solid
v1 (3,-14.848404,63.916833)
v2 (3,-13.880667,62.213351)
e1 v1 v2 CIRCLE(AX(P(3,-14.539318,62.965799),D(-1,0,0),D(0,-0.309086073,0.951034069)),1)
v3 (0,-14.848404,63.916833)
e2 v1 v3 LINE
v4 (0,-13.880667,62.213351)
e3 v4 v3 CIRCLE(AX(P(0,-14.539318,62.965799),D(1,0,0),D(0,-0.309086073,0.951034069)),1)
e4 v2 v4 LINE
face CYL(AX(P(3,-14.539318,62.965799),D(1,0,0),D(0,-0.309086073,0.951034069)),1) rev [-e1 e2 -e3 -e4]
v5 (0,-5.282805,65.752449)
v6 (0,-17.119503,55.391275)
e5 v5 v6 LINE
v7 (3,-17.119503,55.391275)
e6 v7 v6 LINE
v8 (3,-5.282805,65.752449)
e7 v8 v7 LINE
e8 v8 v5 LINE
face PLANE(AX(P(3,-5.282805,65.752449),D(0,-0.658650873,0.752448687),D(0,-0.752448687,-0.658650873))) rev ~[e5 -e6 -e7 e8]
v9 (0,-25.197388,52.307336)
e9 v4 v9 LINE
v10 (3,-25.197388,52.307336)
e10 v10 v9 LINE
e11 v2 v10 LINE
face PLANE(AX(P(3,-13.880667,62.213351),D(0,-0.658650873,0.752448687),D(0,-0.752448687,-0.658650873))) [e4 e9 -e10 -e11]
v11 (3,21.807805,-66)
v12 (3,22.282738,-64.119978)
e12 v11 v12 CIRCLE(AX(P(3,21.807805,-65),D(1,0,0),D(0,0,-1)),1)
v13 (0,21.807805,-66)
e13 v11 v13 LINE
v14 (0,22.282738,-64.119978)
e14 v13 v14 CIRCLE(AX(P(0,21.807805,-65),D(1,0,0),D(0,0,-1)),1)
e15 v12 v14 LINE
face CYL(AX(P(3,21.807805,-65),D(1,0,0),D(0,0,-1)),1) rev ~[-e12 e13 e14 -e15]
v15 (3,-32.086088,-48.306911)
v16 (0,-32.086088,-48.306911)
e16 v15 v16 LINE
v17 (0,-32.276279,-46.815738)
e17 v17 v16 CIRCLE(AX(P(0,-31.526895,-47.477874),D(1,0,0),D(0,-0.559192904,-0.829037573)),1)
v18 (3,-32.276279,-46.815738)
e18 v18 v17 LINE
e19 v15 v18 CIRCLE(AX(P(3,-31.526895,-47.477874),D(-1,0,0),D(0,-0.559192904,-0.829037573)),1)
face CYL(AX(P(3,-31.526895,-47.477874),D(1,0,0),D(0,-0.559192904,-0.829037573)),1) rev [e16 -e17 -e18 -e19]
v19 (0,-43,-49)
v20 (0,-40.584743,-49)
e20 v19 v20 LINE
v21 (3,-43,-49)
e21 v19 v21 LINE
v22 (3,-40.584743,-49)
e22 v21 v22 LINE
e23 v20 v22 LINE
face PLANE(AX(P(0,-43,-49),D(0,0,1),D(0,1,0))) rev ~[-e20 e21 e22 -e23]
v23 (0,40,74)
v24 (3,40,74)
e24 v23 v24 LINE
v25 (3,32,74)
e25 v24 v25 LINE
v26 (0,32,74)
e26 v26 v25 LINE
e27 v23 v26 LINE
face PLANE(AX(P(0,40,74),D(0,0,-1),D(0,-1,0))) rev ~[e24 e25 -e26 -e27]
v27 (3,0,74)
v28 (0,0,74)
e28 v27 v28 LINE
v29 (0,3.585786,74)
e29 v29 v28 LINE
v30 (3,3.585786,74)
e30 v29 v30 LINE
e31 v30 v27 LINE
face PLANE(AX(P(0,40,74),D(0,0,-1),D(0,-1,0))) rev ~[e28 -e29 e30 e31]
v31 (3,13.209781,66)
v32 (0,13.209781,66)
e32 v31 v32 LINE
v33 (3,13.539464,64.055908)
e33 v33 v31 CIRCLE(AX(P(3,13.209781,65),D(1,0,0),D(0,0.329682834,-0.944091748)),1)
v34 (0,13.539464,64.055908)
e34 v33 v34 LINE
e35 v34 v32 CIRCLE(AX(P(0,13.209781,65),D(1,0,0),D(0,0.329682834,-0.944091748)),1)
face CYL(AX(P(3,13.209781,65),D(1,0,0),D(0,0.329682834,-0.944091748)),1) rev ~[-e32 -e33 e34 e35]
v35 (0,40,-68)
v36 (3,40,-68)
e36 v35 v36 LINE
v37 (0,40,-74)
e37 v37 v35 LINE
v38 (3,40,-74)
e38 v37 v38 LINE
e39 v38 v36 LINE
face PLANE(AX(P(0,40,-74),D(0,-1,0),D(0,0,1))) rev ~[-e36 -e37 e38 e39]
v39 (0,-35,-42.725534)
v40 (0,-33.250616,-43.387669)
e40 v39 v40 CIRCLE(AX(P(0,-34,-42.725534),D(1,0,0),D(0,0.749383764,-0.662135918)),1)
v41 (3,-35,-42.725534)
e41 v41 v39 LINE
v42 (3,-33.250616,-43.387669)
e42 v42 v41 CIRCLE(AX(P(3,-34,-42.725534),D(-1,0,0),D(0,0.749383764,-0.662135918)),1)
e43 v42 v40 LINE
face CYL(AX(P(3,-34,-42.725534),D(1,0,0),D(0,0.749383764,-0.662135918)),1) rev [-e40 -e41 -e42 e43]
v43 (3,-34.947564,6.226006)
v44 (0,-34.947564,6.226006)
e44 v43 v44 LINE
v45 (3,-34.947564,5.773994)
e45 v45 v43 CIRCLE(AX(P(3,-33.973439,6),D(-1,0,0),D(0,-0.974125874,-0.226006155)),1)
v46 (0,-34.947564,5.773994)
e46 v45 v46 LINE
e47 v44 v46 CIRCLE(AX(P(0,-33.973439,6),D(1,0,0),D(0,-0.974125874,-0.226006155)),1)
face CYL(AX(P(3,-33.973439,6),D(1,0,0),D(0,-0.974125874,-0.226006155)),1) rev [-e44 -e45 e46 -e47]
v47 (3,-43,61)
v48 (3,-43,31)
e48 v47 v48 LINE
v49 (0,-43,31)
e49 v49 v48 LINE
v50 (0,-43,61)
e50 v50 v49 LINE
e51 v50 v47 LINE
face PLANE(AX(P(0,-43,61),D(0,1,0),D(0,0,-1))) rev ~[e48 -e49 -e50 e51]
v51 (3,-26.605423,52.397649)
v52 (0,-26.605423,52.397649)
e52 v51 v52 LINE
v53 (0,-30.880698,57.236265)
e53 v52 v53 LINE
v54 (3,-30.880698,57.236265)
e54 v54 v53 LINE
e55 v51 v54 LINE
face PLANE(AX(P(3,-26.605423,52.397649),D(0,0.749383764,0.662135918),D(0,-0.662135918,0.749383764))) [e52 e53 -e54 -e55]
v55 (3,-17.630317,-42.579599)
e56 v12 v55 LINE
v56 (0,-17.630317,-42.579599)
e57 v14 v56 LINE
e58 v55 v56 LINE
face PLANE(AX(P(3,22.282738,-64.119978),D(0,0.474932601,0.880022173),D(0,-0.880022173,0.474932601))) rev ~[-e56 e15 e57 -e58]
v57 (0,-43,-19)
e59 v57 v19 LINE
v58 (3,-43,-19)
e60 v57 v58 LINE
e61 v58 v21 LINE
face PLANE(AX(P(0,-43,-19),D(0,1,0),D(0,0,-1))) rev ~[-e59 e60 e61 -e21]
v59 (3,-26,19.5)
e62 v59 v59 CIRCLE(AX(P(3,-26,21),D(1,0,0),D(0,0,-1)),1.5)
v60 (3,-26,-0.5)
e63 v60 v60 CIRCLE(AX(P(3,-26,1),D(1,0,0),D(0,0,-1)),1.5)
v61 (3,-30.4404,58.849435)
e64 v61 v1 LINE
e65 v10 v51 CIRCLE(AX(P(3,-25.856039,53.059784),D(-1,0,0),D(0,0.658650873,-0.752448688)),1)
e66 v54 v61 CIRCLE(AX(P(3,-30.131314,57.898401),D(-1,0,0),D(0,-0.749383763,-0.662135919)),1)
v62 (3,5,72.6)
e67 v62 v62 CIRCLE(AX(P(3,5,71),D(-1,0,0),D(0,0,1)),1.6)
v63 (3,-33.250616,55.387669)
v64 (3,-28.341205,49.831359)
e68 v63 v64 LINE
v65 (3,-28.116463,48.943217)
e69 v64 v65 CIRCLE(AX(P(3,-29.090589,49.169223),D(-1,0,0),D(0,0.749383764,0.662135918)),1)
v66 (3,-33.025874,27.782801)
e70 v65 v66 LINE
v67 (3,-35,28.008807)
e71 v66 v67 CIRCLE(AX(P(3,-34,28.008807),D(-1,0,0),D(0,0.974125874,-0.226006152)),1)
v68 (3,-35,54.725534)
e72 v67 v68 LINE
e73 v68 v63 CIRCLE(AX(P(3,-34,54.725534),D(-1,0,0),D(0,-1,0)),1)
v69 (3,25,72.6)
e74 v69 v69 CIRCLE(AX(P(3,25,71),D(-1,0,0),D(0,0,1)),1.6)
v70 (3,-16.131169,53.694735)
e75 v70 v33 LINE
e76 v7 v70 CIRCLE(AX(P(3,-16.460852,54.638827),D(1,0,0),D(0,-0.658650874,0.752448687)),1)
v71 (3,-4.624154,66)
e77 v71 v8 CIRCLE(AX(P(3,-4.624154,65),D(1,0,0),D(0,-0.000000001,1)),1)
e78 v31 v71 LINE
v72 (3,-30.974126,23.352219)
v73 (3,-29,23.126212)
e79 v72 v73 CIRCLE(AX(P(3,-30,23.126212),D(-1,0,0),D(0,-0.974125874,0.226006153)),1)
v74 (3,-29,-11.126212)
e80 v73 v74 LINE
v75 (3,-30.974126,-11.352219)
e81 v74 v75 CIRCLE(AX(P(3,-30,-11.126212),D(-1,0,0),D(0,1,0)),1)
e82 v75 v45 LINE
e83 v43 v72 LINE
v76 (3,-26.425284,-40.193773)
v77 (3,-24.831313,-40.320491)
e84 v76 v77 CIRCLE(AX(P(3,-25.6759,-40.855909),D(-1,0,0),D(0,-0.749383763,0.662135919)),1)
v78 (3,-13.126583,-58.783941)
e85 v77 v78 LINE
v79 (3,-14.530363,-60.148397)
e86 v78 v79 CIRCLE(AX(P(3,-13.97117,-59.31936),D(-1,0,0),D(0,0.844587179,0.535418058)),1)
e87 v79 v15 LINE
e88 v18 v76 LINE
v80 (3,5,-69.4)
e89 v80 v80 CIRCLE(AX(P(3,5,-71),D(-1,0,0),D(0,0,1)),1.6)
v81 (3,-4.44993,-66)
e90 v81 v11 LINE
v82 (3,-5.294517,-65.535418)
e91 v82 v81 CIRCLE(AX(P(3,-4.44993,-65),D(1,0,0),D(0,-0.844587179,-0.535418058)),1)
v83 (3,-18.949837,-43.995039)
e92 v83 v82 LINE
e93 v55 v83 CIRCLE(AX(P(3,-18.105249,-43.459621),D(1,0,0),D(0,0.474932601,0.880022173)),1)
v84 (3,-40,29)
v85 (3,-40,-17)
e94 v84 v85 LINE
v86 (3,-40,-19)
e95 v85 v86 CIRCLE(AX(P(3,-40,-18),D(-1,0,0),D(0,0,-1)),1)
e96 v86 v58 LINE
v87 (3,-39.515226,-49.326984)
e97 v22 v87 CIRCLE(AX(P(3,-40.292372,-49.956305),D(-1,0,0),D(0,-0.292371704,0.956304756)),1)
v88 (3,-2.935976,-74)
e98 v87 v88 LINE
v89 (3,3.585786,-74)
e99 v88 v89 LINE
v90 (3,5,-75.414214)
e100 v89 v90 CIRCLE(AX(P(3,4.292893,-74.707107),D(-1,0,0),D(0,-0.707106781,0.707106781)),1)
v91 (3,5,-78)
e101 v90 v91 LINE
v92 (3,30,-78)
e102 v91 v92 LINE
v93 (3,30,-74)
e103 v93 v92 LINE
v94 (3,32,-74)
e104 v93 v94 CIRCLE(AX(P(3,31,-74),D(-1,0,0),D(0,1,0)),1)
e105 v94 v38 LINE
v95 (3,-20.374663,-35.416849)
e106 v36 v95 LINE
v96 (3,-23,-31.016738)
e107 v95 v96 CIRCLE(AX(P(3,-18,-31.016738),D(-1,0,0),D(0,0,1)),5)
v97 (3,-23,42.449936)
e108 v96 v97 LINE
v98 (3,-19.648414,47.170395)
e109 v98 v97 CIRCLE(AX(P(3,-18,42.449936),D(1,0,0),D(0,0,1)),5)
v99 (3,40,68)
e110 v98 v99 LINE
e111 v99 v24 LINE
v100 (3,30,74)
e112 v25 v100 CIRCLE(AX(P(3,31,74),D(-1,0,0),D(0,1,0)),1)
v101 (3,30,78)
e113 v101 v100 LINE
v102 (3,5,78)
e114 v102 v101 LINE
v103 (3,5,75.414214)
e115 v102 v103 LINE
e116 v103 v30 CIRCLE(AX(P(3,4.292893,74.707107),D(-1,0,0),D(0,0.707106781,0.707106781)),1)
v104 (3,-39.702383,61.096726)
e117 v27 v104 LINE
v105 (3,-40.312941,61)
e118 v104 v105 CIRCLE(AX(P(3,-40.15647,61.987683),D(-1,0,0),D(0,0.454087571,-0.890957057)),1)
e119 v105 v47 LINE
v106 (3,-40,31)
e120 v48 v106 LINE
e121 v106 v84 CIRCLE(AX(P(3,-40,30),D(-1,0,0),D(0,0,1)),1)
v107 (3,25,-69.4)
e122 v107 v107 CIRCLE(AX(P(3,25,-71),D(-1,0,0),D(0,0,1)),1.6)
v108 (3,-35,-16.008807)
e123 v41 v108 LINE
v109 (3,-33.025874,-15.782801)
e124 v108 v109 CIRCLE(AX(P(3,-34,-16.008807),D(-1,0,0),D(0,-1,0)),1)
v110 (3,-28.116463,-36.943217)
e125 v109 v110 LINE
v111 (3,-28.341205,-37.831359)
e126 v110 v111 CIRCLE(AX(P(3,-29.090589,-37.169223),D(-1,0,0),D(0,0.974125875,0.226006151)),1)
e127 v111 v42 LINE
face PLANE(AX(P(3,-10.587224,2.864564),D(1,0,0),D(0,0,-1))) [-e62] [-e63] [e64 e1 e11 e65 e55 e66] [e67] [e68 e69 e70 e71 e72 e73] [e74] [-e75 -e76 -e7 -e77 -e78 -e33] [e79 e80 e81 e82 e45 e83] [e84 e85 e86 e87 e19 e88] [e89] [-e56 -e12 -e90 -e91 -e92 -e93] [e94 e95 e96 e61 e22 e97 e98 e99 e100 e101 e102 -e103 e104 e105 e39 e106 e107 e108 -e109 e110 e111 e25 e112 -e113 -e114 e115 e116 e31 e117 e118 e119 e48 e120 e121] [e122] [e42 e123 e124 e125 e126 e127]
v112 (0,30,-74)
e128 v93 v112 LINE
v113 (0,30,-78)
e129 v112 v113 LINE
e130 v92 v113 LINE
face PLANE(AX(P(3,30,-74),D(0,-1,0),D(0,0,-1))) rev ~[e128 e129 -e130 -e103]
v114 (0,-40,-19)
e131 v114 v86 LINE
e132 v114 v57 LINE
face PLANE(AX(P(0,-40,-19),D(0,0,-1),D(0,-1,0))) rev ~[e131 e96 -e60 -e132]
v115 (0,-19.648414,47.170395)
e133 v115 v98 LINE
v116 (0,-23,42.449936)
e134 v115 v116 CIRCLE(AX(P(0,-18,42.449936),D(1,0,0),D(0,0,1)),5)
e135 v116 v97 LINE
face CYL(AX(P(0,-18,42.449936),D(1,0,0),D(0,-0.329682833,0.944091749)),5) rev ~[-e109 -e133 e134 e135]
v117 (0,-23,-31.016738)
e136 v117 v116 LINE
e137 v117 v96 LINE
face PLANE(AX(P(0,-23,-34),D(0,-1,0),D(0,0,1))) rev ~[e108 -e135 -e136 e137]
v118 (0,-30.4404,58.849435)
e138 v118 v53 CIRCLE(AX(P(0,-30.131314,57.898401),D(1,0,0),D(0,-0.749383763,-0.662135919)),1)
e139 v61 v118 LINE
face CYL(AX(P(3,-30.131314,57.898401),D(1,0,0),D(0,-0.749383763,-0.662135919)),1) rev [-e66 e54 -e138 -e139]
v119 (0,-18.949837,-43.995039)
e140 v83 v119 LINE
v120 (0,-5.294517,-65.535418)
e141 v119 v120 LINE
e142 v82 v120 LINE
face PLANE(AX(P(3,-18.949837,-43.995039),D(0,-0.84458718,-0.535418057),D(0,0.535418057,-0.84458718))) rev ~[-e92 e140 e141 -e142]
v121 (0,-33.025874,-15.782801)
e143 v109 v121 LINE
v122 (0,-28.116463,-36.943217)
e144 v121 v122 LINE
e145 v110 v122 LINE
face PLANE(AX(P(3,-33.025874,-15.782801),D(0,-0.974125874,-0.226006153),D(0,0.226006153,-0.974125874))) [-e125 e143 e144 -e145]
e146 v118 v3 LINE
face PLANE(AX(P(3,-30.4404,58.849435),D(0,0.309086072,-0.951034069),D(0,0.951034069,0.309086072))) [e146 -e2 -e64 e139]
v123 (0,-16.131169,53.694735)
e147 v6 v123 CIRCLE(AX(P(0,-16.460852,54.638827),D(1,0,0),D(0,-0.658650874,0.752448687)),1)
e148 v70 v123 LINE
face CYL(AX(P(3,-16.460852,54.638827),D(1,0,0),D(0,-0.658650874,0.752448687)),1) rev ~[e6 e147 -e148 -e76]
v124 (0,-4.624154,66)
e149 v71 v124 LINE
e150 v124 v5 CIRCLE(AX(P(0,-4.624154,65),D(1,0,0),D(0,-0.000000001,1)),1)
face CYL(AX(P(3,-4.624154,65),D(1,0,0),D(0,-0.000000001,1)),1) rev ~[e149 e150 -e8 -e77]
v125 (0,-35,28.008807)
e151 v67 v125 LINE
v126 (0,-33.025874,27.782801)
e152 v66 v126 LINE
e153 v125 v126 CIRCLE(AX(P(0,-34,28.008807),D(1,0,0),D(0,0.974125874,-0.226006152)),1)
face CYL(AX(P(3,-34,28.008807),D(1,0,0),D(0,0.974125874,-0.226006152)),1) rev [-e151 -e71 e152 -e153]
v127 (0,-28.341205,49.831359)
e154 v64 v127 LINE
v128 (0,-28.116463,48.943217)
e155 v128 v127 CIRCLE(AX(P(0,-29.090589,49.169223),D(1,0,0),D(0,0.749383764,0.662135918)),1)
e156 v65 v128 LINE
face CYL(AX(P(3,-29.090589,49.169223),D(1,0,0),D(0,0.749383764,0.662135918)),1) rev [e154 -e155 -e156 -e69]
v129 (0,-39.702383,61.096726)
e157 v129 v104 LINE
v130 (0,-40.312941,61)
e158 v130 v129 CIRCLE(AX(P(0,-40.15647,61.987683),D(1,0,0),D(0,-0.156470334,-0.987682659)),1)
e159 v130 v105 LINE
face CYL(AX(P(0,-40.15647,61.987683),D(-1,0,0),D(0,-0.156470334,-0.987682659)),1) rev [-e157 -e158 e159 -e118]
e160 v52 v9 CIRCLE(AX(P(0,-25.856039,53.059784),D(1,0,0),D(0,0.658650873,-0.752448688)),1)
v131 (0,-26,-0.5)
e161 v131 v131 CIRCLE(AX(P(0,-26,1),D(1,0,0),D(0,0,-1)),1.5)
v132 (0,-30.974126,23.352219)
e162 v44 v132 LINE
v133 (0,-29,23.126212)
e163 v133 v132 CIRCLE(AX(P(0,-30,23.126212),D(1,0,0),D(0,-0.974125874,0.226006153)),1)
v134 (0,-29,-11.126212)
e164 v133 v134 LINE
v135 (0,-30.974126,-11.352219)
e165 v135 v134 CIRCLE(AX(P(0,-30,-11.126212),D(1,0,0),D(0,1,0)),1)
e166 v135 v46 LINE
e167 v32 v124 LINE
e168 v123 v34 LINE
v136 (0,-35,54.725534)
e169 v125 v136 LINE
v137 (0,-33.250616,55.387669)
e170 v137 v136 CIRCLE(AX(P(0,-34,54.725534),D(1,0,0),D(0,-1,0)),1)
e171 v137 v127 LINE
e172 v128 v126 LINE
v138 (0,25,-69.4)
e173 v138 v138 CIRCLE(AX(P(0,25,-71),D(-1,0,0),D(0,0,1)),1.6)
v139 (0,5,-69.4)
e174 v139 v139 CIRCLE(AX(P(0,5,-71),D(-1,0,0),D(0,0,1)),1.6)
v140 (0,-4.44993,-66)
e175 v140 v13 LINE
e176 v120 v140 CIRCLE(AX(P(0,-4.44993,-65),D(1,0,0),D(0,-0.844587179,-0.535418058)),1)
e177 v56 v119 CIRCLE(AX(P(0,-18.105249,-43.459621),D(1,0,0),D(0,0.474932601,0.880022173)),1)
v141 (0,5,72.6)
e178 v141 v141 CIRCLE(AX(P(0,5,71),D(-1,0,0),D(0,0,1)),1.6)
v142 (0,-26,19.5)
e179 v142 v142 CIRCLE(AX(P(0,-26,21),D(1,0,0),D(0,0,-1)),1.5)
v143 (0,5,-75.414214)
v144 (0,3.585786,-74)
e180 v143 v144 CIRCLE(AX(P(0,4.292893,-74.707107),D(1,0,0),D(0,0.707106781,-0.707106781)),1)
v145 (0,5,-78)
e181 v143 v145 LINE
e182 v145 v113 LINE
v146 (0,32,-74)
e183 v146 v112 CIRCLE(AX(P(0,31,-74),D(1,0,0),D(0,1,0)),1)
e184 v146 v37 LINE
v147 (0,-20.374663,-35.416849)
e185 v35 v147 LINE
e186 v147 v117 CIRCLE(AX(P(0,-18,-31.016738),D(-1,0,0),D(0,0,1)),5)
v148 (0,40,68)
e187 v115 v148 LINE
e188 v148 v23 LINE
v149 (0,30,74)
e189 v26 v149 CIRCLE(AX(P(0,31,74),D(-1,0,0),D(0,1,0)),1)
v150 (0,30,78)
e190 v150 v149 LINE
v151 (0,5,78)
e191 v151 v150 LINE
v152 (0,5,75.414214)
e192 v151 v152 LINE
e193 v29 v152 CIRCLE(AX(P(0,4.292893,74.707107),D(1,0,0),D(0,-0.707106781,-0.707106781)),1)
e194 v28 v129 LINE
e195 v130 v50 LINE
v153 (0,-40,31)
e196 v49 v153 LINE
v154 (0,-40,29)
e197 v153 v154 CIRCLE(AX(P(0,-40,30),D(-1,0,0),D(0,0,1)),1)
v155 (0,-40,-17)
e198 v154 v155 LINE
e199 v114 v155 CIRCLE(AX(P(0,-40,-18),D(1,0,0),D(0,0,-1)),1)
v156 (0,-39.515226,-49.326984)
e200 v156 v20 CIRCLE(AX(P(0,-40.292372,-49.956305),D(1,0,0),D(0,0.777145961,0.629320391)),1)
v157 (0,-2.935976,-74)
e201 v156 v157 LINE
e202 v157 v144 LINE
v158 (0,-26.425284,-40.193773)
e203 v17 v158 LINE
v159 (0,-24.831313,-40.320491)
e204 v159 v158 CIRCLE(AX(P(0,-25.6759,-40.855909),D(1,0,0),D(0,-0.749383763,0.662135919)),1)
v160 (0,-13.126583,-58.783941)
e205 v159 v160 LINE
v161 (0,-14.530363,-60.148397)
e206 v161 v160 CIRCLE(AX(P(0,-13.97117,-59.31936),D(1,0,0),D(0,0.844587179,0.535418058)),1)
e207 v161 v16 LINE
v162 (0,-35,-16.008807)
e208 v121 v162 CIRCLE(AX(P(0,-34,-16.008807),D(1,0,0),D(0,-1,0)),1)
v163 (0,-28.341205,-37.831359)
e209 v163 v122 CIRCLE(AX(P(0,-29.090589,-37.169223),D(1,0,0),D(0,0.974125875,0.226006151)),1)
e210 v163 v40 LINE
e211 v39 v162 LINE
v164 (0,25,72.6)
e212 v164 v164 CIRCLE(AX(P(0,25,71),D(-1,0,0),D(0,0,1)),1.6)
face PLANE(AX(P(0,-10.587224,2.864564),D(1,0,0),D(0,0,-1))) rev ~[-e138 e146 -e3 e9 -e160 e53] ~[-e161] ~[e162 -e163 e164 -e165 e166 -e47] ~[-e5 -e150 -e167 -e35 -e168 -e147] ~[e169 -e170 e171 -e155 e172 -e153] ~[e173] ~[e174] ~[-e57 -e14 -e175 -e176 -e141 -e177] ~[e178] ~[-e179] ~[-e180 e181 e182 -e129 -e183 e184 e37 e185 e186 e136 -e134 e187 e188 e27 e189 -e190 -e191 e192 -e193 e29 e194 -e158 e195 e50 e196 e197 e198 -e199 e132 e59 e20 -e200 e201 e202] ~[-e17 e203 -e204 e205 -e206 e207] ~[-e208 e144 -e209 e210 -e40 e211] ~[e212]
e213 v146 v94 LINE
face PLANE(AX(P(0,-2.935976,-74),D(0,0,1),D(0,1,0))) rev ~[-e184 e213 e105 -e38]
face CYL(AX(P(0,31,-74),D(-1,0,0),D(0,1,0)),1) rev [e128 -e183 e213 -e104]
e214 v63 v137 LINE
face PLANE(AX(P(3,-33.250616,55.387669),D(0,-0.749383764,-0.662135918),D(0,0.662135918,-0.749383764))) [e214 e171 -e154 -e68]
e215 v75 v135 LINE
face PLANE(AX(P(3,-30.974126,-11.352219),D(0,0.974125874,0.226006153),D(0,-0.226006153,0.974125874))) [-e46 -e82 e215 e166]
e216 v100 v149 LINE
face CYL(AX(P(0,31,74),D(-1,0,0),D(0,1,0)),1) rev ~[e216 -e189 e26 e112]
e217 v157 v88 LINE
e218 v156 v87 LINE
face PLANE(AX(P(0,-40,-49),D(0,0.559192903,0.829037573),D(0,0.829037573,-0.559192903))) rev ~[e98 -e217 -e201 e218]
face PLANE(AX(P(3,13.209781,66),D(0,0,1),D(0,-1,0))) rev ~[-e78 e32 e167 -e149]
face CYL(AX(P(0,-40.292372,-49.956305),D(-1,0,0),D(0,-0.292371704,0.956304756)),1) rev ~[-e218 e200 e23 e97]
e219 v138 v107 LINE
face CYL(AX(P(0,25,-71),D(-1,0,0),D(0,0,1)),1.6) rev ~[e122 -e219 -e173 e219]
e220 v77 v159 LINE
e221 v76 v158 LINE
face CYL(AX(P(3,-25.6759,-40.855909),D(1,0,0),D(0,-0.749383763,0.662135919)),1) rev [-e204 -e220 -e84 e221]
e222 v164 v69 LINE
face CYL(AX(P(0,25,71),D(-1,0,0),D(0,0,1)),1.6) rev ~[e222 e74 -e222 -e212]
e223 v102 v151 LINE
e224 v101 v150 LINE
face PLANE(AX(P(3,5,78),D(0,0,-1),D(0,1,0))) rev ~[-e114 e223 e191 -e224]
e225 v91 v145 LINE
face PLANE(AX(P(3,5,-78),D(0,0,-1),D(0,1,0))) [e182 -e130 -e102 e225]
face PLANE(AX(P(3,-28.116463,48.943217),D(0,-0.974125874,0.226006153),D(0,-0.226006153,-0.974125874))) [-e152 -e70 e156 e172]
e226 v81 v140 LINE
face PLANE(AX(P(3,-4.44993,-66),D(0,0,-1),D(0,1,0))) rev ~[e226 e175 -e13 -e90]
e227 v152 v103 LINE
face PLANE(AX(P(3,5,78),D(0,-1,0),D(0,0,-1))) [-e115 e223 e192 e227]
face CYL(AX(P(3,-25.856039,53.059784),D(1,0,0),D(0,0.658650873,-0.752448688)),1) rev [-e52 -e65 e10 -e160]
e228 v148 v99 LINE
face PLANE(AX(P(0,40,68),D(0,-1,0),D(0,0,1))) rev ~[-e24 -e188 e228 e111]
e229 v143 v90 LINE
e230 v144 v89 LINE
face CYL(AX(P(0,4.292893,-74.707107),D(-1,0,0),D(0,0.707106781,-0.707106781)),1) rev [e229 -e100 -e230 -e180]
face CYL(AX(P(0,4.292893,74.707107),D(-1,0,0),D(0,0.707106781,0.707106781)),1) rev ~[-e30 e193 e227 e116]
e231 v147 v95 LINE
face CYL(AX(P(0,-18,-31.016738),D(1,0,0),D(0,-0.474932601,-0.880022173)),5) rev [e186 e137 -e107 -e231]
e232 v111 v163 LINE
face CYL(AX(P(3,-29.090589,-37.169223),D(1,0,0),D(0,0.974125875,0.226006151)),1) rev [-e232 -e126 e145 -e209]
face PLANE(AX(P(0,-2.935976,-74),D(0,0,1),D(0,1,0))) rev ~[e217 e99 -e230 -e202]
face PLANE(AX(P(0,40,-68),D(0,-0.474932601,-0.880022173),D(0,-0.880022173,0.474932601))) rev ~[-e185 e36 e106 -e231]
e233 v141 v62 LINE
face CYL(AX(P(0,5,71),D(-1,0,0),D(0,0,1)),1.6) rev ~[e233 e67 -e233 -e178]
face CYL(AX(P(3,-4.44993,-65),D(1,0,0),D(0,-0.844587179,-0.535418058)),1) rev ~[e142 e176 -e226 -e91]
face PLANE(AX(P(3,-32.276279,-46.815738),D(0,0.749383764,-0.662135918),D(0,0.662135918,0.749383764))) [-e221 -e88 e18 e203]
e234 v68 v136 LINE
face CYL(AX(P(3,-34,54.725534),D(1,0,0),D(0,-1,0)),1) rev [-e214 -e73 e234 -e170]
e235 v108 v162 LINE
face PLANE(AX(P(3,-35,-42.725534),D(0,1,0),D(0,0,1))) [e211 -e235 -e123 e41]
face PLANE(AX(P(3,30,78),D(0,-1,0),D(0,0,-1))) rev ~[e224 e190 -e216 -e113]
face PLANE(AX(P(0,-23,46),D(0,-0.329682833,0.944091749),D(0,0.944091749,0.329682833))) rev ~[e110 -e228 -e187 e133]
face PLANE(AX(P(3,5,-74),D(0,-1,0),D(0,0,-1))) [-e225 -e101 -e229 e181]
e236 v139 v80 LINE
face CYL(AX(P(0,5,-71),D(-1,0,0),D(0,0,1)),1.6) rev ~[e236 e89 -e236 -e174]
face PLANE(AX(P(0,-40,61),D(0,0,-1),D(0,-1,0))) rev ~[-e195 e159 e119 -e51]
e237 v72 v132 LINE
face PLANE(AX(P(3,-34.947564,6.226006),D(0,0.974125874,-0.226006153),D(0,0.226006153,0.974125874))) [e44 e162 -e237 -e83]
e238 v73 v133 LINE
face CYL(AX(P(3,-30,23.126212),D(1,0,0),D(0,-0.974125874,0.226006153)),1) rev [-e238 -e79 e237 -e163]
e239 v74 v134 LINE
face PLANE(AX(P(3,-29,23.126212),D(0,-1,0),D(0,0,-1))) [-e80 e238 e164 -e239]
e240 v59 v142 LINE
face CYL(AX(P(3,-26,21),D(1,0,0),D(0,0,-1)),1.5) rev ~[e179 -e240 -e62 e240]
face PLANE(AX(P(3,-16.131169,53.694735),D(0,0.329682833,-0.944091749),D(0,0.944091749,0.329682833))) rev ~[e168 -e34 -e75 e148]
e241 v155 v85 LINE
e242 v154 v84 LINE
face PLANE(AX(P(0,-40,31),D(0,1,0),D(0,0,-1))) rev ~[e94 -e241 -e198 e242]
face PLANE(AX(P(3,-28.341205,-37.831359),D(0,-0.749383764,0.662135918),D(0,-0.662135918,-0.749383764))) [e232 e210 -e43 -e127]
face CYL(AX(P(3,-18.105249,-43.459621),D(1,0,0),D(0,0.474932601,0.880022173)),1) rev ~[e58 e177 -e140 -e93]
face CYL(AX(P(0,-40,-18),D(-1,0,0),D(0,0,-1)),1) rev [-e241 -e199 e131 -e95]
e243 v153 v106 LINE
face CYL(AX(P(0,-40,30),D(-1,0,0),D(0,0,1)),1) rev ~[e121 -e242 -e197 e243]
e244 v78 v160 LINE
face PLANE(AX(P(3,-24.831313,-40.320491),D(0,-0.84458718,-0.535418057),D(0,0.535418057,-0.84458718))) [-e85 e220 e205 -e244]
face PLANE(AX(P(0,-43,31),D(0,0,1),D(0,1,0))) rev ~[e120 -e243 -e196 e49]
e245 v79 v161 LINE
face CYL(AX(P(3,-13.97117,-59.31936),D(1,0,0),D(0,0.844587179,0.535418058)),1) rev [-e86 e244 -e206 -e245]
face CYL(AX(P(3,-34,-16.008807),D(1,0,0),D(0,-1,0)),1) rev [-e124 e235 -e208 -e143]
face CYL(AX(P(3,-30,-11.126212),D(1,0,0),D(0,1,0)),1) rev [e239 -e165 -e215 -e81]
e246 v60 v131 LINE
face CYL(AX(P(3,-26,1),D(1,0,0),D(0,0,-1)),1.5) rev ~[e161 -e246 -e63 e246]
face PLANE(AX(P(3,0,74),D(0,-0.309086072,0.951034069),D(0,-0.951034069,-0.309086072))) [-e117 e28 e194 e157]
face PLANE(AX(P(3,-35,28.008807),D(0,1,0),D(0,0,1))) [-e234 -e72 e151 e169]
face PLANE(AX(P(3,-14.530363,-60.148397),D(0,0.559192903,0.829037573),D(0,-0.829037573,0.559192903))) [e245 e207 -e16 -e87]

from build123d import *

# Parameters (mm, degrees)
EXTRUDE_1_DEPTH     = 3
SKETCH_2_W          = 4
SKETCH_2_H          = 25
EXTRUDE_2_DEPTH     = 3
SKETCH_6_R          = 1.6
CUT_EXTRUDE_4_DEPTH = 4
CUT_EXTRUDE_5_DEPTH = 10
CUT_EXTRUDE_7_DEPTH = 10
FILLET_1_R          = 5
SKETCH_11_R         = 1.5
CUT_EXTRUDE_8_DEPTH = 90.117899437


with BuildPart() as part:
    # 草图1 → 凸台-拉伸1 (new body)
    with BuildSketch(Plane(origin=(0, 0, 0), x_dir=(0, 0, -1), z_dir=(1, 0, 0))):
        Polygon((-46, -23), (-68, 40), (-74, 40), (-74, -20.726707409), (-61, -40), (-61, -43), (-31, -43), (-31, -40), (19, -40), (19, -43), (49, -43), (49, -40), (74, -2.935975787), (74, 40), (68, 40), (34, -23), align=None)
    extrude(amount=EXTRUDE_1_DEPTH)

    # 草图2 → 凸台-拉伸2 (add)
    with BuildSketch(Plane(origin=(3, 0, 0), x_dir=(0, 0, -1), z_dir=(1, 0, 0))):
        with Locations((-76, 17.5)):
            Rectangle(SKETCH_2_W, SKETCH_2_H)
        with Locations((76, 17.5)):
            Rectangle(SKETCH_2_W, SKETCH_2_H)
    extrude(amount=-EXTRUDE_2_DEPTH)

    # 草图6 → 切除-拉伸4 (cut)
    with BuildSketch(Plane.ZY):
        with Locations((-71, 5)):
            Circle(SKETCH_6_R)
        with Locations((71, 25)):
            Circle(SKETCH_6_R)
        with Locations((71, 5)):
            Circle(SKETCH_6_R)
        with Locations((-71, 25)):
            Circle(SKETCH_6_R)
    extrude(amount=-CUT_EXTRUDE_4_DEPTH, mode=Mode.SUBTRACT)

    # 草图7 → 切除-拉伸5 (cut)
    with BuildSketch(Plane(origin=(3, 0, 0), x_dir=(0, 0, -1), z_dir=(1, 0, 0))):
        with BuildLine():
            Line((-66, 13.209781141), (-66, -4.624153975))
            ThreePointArc((-66, -4.624153975), (-65.936068557, -4.975971621), (-65.752448687, -5.282804848))
            Line((-65.752448687, -5.282804848), (-55.391275304, -17.119502604))
            ThreePointArc((-55.391275304, -17.119502604), (-54.135455337, -17.324921956), (-53.694734868, -16.131168898))
            Line((-53.694734868, -16.131168898), (-64.055908251, 13.539463974))
            ThreePointArc((-64.055908251, 13.539463974), (-65.167194873, 14.195705009), (-66, 13.209781141))
        make_face()
        with BuildLine():
            Line((66, -4.449930151), (66, 21.807804944))
            ThreePointArc((66, 21.807804944), (65.244926343, 22.777346633), (64.119977827, 22.282737545))
            Line((64.119977827, 22.282737545), (42.579599238, -17.630316899))
            ThreePointArc((42.579599238, -17.630316899), (42.777733508, -18.836706189), (43.995039468, -18.94983668))
            Line((43.995039468, -18.94983668), (65.535418057, -5.29451733))
            ThreePointArc((65.535418057, -5.29451733), (65.876190064, -4.931895887), (66, -4.449930151))
        make_face()
        Polygon((-74, 0), (-61, -40), (-74, -20.726707409), align=None)
        with BuildLine():
            Line((-62.213350607, -13.880667443), (-52.307335811, -25.197387929))
            ThreePointArc((-52.307335811, -25.197387929), (-52.061835208, -25.920048281), (-52.39764858, -26.605422566))
            Line((-52.39764858, -26.605422566), (-57.236264859, -30.880697516))
            ThreePointArc((-57.236264859, -30.880697516), (-58.161708676, -31.096025601), (-58.849434846, -30.440399824))
            Line((-58.849434846, -30.440399824), (-63.916833363, -14.848404388))
            ThreePointArc((-63.916833363, -14.848404388), (-63.459750443, -13.669828659), (-62.213350607, -13.880667443))
        make_face()
        with BuildLine():
            Line((-55.387669494, -33.250616236), (-49.831358953, -28.341205383))
            ThreePointArc((-49.831358953, -28.341205383), (-49.414538234, -28.121145774), (-48.943216882, -28.116463272))
            Line((-48.943216882, -28.116463272), (-27.782801194, -33.025874126))
            ThreePointArc((-27.782801194, -33.025874126), (-27.015296935, -34.11374121), (-28.008807346, -35))
            Line((-28.008807346, -35), (-54.725533576, -35))
            ThreePointArc((-54.725533576, -35), (-55.660783212, -34.353988867), (-55.387669494, -33.250616236))
        make_face()
        with BuildLine():
            Line((-23.126212383, -29), (11.126212383, -29))
            ThreePointArc((11.126212383, -29), (12.119722794, -29.88625879), (11.352218536, -30.974125874))
            Line((11.352218536, -30.974125874), (-5.773993847, -34.947564496))
            ThreePointArc((-5.773993847, -34.947564496), (-6, -34.973438622), (-6.226006153, -34.947564496))
            Line((-6.226006153, -34.947564496), (-23.352218536, -30.974125874))
            ThreePointArc((-23.352218536, -30.974125874), (-24.119722794, -29.88625879), (-23.126212383, -29))
        make_face()
        with BuildLine():
            Line((15.782801194, -33.025874126), (36.943216882, -28.116463272))
            ThreePointArc((36.943216882, -28.116463272), (37.414538234, -28.121145774), (37.831358953, -28.341205383))
            Line((37.831358953, -28.341205383), (43.387669494, -33.250616236))
            ThreePointArc((43.387669494, -33.250616236), (43.660783212, -34.353988867), (42.725533576, -35))
            Line((42.725533576, -35), (16.008807346, -35))
            ThreePointArc((16.008807346, -35), (15.015296935, -34.11374121), (15.782801194, -33.025874126))
        make_face()
        with BuildLine():
            Line((40.32049134, -24.831312908), (58.783941471, -13.126583263))
            ThreePointArc((58.783941471, -13.126583263), (60.036438838, -13.274178861), (60.148397101, -14.530363346))
            Line((60.148397101, -14.530363346), (48.30691143, -32.086087811))
            ThreePointArc((48.30691143, -32.086087811), (47.604393348, -32.518859029), (46.815737939, -32.276278671))
            Line((46.815737939, -32.276278671), (40.193773479, -26.425283852))
            ThreePointArc((40.193773479, -26.425283852), (39.859054482, -25.596651891), (40.32049134, -24.831312908))
        make_face()
    extrude(amount=-CUT_EXTRUDE_5_DEPTH, mode=Mode.SUBTRACT)

    # 草图10 → 切除-拉伸7 (cut)
    with BuildSketch(Plane.ZY):
        with BuildLine():
            Line((61.096725602, -39.702382762), (61, -40.312940669))
            ThreePointArc((61, -40.312940669), (61, -40), (61.096725602, -39.702382762))
        make_face()
        with BuildLine():
            Line((-74, 30), (-74, 32))
            ThreePointArc((-74, 32), (-73, 31), (-74, 30))
        make_face()
        with BuildLine():
            Line((74, 30), (74, 32))
            ThreePointArc((74, 32), (73, 31), (74, 30))
        make_face()
        with BuildLine():
            Line((-74, 3.585786438), (-75.414213562, 5))
            ThreePointArc((-75.414213562, 5), (-74, 5), (-74, 3.585786438))
        make_face()
        with BuildLine():
            Line((74, 3.585786438), (75.414213562, 5))
            ThreePointArc((75.414213562, 5), (74, 5), (74, 3.585786438))
        make_face()
        with BuildLine():
            Line((-17, -40), (-19, -40))
            ThreePointArc((-19, -40), (-18, -39), (-17, -40))
        make_face()
        with BuildLine():
            Line((29, -40), (31, -40))
            ThreePointArc((31, -40), (30, -39), (29, -40))
        make_face()
        with BuildLine():
            Line((-49.326984365, -39.515225743), (-49, -40.584743409))
            ThreePointArc((-49, -40.584743409), (-49, -40), (-49.326984365, -39.515225743))
        make_face()
    extrude(amount=-CUT_EXTRUDE_7_DEPTH, mode=Mode.SUBTRACT)

    # 圆角1
    fillet_1_edges = [part.edges().sort_by_distance(p)[0] for p in [
        (1.5, -23, 46),
        (1.5, -23, -34),
    ]]
    fillet(fillet_1_edges, radius=FILLET_1_R)

    # 草图11 → 切除-拉伸8 (cut, through all)
    with BuildSketch(Plane(origin=(3, 0, 0), x_dir=(0, 0, -1), z_dir=(1, 0, 0))):
        with Locations((-1, -26)):
            Circle(SKETCH_11_R)
        with Locations((-21, -26)):
            Circle(SKETCH_11_R)
    extrude(amount=-CUT_EXTRUDE_8_DEPTH, mode=Mode.SUBTRACT)


solid = part.part
